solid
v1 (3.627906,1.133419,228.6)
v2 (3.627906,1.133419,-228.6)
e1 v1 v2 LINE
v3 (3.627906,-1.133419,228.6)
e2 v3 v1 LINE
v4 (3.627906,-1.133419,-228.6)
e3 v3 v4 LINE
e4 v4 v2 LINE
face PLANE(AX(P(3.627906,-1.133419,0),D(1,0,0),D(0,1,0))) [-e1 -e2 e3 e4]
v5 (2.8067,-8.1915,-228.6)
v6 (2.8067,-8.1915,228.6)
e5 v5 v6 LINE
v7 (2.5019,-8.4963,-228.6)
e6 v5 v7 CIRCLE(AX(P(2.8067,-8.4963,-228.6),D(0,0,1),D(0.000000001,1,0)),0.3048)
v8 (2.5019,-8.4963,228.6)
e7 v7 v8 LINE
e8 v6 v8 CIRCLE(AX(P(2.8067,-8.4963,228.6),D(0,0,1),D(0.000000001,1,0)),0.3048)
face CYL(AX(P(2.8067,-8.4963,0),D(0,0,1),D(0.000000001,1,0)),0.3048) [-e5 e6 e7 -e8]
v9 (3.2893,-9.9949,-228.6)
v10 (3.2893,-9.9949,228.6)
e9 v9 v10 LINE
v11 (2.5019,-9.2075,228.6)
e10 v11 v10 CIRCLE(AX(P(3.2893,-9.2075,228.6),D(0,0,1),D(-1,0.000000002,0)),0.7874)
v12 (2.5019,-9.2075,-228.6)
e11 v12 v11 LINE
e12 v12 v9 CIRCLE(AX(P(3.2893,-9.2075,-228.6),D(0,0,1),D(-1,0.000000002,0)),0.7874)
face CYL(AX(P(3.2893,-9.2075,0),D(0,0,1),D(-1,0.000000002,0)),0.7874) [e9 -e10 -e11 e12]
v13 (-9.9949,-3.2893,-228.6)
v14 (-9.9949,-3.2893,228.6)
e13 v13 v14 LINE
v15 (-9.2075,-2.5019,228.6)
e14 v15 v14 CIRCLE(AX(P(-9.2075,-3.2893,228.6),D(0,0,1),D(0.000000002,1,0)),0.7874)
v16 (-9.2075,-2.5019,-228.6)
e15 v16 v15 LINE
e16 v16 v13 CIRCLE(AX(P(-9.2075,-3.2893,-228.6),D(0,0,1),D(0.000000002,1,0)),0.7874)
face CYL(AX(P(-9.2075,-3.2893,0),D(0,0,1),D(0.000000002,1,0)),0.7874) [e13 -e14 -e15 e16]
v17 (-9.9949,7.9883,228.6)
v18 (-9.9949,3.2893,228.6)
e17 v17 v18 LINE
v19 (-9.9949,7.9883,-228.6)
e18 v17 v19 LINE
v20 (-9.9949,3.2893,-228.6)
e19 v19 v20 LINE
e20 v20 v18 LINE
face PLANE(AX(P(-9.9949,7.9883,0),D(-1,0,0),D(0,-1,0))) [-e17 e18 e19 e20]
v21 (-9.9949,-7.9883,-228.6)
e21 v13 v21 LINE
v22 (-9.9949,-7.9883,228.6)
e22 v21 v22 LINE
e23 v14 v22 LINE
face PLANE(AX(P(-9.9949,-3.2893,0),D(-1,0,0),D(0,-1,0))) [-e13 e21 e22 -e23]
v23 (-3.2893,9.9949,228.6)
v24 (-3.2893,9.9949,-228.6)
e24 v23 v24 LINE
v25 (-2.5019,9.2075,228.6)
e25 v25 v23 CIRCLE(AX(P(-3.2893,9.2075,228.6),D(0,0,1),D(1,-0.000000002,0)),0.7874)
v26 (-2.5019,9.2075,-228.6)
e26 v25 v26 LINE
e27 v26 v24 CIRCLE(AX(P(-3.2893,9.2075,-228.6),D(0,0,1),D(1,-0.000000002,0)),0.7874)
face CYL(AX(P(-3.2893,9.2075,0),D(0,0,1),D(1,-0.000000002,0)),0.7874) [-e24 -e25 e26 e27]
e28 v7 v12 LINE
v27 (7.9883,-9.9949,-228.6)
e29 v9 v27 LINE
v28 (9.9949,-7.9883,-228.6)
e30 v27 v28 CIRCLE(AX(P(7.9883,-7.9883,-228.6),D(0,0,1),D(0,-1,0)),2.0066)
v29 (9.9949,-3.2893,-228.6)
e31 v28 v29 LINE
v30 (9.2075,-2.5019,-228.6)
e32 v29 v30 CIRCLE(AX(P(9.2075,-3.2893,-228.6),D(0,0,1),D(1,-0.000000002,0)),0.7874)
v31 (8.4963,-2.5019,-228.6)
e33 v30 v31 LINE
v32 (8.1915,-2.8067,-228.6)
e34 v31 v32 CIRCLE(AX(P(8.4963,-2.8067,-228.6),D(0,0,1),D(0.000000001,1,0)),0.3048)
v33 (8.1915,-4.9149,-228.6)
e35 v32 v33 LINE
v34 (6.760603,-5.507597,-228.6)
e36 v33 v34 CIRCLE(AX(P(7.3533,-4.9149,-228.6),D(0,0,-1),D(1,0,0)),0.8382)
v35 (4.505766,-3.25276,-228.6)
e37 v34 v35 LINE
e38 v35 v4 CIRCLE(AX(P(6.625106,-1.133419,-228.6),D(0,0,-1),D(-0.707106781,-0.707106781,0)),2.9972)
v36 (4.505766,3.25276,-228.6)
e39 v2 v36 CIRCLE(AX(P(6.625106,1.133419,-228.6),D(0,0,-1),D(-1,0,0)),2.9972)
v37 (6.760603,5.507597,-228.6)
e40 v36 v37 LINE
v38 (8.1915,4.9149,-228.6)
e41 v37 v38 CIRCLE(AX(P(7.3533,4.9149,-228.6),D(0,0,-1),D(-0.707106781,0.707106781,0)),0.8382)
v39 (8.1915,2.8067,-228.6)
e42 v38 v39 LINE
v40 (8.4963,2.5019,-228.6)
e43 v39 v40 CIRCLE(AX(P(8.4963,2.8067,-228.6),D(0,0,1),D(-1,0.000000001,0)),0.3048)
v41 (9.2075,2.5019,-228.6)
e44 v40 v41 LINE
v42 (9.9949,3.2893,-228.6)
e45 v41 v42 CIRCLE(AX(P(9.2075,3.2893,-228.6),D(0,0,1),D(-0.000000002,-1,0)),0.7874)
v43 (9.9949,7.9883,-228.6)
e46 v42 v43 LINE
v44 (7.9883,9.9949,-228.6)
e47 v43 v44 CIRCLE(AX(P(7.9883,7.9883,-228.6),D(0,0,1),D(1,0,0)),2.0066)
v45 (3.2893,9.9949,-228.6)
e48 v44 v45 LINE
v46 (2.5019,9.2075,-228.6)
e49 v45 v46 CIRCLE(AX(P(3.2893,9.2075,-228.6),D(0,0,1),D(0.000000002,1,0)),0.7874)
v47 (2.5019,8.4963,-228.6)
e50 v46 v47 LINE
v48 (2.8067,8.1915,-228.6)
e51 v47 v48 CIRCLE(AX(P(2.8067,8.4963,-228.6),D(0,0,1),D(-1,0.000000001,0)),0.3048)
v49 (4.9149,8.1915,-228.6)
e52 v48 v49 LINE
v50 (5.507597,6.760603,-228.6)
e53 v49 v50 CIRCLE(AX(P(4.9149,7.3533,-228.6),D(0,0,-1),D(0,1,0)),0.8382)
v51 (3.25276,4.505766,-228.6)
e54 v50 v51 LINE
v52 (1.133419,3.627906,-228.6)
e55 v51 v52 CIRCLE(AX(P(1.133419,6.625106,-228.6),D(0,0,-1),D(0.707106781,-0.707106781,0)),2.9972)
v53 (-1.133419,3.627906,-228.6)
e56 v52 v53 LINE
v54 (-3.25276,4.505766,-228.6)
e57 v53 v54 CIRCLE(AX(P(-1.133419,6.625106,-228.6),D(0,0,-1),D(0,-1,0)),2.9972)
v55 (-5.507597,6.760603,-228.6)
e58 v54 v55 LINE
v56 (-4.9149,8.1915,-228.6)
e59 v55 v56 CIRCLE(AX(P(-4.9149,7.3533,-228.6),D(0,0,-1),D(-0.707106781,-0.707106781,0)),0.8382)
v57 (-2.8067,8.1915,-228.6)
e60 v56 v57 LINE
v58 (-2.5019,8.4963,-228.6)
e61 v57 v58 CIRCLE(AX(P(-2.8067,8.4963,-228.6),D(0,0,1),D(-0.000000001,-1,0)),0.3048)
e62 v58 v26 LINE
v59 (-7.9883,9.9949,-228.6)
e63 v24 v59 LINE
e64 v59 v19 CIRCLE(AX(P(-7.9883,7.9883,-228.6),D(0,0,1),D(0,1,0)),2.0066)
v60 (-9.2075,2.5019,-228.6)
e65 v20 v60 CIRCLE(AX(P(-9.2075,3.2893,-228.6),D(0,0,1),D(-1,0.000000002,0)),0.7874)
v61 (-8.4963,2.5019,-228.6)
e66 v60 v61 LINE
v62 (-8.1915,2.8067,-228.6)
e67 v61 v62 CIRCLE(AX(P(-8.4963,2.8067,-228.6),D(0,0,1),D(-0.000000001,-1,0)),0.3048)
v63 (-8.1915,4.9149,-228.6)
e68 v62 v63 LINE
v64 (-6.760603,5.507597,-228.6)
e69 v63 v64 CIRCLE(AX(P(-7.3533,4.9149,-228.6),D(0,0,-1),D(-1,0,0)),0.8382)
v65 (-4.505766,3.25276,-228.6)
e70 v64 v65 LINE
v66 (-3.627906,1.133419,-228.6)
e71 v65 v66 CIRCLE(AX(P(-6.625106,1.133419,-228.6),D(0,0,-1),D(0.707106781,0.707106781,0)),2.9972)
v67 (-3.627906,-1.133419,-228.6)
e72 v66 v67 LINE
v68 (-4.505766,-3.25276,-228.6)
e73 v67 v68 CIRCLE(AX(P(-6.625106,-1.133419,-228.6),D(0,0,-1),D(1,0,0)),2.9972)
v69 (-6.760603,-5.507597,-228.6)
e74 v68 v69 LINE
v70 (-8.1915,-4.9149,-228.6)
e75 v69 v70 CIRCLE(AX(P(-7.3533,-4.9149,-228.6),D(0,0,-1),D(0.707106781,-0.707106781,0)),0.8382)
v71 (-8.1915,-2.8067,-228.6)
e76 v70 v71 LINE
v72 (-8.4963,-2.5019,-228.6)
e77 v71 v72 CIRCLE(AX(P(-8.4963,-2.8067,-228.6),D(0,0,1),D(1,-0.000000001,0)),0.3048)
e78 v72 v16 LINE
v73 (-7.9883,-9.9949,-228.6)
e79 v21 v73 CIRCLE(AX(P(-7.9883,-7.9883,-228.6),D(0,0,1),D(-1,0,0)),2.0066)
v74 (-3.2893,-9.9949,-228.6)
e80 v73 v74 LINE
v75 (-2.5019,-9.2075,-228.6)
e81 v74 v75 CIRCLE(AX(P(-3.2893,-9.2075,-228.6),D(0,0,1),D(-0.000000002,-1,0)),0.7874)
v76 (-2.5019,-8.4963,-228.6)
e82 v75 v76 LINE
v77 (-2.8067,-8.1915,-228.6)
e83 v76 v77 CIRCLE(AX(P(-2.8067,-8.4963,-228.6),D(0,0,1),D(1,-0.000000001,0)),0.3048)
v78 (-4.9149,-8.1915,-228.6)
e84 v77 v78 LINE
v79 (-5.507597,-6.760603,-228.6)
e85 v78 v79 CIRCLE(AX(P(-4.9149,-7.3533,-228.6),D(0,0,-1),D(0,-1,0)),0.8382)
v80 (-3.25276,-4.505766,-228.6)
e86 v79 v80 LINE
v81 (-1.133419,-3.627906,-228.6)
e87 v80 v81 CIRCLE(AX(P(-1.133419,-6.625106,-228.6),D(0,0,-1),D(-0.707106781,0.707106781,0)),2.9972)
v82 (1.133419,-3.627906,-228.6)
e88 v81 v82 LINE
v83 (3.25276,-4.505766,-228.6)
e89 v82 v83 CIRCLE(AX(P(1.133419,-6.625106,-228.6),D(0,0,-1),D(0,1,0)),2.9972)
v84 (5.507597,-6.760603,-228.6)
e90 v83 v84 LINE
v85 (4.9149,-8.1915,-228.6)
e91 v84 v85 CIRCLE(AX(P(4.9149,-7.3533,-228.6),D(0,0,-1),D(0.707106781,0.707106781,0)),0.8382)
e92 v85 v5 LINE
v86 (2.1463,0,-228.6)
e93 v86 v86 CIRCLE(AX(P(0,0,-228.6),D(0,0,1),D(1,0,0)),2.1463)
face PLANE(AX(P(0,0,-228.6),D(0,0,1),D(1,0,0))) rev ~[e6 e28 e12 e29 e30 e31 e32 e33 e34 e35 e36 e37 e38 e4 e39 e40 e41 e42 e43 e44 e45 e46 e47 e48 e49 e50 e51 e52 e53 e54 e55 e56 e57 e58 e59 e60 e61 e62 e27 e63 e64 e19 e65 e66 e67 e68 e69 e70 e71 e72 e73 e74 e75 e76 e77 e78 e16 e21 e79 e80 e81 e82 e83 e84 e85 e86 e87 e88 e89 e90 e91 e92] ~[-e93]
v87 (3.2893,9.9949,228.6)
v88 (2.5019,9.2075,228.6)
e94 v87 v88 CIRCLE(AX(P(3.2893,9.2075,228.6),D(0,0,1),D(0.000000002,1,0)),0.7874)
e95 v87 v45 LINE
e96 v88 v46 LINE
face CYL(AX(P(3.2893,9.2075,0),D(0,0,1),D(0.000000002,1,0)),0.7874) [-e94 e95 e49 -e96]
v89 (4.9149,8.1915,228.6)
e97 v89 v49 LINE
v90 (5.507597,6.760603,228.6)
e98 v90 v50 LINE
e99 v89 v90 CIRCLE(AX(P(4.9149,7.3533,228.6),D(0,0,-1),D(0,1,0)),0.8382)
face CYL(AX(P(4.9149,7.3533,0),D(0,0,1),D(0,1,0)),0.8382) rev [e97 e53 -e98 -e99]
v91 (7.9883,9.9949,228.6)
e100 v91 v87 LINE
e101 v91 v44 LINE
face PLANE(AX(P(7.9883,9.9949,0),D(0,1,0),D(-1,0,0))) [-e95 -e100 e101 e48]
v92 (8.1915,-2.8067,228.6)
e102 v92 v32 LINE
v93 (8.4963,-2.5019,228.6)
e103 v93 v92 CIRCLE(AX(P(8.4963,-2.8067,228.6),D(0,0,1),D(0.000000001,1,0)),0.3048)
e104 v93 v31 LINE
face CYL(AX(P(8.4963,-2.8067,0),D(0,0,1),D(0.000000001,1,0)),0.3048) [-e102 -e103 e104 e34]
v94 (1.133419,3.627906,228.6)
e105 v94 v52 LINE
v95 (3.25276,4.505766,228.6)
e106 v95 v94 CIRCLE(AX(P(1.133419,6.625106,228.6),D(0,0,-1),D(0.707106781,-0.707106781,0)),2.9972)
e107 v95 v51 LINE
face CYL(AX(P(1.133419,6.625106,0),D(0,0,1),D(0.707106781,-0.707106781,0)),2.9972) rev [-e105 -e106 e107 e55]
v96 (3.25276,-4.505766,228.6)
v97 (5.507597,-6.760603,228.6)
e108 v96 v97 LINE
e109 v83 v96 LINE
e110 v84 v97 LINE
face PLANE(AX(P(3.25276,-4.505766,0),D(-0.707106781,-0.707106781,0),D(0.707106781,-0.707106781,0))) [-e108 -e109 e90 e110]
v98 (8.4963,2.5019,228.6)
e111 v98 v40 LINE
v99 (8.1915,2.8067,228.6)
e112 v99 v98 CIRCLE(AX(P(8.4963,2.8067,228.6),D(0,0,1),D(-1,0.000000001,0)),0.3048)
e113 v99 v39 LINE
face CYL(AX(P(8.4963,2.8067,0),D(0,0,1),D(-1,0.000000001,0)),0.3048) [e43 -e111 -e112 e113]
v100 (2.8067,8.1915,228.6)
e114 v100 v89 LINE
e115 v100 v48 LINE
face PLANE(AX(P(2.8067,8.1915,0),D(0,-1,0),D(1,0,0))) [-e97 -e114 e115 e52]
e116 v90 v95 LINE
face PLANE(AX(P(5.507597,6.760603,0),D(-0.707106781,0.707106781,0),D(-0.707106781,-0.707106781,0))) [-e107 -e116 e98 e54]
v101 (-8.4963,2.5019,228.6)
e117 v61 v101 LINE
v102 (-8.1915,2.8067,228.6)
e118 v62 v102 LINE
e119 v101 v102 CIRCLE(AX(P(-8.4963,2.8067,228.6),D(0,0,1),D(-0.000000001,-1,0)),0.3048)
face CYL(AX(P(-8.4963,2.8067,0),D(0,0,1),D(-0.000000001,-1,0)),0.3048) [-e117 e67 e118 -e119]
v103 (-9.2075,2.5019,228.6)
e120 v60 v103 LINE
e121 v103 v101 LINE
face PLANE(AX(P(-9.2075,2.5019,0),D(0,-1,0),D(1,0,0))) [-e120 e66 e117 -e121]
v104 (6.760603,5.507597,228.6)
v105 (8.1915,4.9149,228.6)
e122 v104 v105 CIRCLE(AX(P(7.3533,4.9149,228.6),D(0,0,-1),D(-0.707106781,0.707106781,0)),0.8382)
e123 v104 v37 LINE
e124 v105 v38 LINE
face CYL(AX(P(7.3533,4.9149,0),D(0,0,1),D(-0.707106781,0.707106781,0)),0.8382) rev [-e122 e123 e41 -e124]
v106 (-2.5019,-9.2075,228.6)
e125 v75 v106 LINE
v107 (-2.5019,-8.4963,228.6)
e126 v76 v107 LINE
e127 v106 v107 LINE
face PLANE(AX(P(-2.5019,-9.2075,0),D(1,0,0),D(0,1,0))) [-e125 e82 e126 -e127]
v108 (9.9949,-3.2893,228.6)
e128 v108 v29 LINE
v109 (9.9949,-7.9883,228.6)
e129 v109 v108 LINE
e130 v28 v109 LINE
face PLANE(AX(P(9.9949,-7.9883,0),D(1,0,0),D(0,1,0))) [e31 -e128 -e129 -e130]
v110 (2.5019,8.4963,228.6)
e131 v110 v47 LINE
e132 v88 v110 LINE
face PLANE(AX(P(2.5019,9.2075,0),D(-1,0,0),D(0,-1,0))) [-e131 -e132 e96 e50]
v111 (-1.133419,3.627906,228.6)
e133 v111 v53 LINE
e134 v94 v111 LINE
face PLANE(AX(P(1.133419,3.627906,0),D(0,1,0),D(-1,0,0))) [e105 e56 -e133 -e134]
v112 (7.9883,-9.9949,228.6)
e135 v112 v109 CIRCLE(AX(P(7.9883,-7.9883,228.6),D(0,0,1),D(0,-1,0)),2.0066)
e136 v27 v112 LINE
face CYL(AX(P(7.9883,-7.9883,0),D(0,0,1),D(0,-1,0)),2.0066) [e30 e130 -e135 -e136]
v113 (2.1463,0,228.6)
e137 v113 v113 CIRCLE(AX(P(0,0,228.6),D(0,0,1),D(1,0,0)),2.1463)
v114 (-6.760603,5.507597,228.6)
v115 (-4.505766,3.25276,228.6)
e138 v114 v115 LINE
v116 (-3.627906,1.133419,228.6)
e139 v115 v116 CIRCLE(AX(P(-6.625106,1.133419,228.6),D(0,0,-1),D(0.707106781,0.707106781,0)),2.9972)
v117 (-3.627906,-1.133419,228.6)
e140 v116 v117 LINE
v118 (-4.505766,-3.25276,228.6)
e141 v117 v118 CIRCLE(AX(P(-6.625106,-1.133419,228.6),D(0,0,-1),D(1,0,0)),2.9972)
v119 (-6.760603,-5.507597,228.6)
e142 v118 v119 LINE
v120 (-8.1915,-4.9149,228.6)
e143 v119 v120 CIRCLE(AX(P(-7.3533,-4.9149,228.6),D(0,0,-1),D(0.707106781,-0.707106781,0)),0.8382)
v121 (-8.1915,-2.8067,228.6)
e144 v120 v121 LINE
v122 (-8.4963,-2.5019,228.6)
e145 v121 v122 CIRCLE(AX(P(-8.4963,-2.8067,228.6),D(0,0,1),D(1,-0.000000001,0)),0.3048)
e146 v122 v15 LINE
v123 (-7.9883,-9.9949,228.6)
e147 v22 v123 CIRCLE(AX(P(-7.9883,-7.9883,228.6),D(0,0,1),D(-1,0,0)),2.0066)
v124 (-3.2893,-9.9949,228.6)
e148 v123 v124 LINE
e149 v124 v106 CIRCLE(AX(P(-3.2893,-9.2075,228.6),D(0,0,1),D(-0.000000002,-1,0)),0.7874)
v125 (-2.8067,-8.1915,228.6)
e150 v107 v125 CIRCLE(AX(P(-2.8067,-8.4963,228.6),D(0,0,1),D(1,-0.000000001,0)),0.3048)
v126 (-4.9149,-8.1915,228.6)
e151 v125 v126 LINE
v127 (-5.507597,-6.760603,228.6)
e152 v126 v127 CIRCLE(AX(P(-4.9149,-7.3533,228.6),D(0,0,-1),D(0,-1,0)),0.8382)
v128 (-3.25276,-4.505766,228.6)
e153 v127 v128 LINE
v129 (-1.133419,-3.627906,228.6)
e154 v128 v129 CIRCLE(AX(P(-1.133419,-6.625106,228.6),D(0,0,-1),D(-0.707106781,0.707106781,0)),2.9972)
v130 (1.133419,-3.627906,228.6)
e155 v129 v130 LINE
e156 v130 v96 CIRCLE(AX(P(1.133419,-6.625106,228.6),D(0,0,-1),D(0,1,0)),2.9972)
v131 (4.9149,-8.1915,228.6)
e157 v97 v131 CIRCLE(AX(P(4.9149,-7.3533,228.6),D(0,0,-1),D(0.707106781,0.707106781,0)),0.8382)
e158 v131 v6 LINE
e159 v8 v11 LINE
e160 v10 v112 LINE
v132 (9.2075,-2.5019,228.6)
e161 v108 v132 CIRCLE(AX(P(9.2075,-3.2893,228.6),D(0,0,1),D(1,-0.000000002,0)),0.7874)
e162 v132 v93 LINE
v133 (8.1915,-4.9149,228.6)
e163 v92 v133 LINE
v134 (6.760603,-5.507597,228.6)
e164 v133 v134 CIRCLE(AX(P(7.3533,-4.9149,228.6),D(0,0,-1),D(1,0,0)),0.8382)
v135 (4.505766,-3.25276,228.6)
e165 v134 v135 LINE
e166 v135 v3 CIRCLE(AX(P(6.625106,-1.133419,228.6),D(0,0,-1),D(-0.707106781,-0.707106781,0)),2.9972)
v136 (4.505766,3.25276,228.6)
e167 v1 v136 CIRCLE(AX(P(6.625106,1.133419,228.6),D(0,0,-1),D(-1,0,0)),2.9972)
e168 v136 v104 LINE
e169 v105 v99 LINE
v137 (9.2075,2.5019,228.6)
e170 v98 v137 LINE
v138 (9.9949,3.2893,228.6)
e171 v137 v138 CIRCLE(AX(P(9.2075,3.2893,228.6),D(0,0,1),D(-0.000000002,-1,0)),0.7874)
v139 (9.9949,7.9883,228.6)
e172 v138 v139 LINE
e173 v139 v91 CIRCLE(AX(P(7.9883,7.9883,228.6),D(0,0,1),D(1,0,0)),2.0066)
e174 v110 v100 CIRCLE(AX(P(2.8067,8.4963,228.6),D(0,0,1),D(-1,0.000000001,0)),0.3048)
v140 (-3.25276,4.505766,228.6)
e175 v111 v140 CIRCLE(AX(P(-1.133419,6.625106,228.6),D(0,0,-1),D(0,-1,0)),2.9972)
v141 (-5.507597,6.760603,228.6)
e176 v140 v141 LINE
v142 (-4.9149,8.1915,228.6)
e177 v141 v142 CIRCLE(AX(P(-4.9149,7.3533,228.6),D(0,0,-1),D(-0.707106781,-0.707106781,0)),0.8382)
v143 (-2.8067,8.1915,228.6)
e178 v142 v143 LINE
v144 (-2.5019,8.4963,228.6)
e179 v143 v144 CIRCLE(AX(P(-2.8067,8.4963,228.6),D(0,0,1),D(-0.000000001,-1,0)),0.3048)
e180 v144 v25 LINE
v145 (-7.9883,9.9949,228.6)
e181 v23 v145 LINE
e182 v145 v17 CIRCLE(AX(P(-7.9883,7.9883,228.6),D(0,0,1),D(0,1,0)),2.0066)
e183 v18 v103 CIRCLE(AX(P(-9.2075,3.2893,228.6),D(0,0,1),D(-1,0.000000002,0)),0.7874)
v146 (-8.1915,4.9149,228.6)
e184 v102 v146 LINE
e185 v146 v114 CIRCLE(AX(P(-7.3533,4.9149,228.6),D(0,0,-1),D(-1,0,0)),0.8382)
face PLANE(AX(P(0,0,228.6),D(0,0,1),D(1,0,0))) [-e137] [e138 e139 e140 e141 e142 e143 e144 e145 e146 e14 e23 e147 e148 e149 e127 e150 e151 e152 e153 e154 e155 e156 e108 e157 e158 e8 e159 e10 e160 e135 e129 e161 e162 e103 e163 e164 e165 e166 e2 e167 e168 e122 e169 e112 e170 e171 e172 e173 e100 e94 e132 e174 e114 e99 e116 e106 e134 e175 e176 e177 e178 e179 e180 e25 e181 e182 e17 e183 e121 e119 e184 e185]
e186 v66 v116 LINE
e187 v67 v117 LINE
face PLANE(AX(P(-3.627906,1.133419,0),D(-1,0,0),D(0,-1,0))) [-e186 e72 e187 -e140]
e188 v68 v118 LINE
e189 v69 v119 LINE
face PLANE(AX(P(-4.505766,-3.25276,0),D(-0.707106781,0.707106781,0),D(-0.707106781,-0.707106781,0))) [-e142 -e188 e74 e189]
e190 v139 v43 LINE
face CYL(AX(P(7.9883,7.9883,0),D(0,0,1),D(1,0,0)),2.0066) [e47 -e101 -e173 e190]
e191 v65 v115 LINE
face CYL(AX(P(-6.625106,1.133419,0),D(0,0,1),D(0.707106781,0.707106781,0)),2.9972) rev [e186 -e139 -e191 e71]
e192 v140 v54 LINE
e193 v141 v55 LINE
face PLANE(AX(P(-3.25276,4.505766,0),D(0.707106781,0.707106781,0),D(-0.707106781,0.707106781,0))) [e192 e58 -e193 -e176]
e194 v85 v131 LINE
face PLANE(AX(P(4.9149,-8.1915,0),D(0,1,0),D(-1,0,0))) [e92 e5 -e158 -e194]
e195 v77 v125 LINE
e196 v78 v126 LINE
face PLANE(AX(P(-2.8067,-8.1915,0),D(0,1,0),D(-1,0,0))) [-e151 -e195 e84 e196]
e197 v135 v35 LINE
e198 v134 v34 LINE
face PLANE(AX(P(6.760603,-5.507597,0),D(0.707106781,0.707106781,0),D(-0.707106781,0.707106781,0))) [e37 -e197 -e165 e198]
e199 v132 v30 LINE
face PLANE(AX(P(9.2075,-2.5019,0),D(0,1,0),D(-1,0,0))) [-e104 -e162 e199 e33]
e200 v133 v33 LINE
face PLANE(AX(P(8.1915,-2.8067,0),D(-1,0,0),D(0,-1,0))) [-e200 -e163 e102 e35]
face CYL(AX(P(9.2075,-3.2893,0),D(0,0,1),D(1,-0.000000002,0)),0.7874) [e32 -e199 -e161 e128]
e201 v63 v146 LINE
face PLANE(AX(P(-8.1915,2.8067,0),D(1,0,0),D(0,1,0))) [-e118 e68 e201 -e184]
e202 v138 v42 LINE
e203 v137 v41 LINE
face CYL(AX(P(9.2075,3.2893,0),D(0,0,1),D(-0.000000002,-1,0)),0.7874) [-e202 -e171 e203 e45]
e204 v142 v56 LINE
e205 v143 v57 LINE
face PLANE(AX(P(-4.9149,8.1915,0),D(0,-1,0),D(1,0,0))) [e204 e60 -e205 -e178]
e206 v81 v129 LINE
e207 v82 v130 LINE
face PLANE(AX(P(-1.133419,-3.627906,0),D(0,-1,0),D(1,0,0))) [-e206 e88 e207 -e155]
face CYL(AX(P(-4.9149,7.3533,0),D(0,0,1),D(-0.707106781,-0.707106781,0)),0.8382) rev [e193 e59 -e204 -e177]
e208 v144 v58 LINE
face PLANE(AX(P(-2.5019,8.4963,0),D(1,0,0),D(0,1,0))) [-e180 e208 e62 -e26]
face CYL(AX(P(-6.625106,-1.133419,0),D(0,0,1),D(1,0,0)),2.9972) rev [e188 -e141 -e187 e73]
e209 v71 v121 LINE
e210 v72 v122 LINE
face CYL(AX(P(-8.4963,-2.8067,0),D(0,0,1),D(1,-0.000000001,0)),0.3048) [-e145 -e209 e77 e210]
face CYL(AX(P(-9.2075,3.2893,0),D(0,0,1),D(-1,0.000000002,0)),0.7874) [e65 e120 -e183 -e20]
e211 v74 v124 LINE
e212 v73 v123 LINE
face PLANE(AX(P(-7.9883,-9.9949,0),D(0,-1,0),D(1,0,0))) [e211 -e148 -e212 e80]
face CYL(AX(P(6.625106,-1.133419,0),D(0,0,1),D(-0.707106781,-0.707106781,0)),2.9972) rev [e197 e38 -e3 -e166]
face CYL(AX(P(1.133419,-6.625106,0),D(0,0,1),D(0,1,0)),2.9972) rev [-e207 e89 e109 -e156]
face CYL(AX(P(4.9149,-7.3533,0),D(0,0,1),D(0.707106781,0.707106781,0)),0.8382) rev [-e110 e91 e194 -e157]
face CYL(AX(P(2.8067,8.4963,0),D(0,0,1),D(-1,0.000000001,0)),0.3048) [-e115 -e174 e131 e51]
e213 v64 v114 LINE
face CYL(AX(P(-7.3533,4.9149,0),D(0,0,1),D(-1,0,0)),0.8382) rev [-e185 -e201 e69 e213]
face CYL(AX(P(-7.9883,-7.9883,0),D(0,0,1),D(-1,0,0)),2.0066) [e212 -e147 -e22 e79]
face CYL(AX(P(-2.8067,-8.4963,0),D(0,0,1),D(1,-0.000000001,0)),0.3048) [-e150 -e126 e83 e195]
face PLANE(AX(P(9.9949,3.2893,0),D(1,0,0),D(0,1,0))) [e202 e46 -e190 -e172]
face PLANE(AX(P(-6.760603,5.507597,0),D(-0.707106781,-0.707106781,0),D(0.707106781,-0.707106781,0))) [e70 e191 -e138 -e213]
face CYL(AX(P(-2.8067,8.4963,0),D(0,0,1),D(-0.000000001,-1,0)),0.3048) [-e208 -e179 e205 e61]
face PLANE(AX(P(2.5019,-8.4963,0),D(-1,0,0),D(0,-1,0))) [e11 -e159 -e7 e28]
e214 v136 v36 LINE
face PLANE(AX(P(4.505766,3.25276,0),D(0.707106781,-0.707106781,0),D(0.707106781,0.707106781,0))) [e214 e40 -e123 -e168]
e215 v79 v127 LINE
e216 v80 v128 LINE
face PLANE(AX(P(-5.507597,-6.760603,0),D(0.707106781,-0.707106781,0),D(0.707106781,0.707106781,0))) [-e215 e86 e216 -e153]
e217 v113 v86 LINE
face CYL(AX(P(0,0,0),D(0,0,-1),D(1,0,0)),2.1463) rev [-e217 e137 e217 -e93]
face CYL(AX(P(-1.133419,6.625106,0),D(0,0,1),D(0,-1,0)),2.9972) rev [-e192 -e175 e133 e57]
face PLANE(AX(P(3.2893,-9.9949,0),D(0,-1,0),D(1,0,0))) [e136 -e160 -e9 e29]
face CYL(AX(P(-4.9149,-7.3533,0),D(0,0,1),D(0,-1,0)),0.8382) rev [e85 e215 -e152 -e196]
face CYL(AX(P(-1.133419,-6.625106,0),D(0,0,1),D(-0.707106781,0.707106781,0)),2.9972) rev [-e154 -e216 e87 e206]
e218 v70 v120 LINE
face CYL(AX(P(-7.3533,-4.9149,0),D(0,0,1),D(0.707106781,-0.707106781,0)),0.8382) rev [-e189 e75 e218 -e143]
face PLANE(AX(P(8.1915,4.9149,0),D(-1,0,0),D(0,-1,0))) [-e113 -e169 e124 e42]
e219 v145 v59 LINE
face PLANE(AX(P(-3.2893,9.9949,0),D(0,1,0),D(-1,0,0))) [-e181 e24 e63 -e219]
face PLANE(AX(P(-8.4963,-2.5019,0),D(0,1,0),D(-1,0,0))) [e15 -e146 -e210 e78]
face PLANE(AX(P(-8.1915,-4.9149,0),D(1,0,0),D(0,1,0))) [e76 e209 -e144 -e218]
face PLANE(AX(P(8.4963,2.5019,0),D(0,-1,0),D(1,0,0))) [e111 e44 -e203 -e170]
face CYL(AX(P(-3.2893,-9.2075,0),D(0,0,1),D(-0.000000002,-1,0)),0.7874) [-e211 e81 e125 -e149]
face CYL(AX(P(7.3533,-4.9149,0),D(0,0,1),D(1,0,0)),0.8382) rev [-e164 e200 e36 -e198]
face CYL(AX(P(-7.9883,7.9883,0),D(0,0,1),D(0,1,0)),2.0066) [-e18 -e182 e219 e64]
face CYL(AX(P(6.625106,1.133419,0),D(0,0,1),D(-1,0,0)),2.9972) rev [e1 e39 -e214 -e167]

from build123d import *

# Parameters (mm, degrees)
SKETCH1_R           = 2.1463
BOSS_EXTRUDE1_DEPTH = 228.6


with BuildPart() as part:
    # Sketch1 → Boss-Extrude1 (new, symmetric)
    with BuildSketch(Plane.XY):
        with BuildLine():
            Line((-9.9949, 7.9883), (-9.9949, 3.2893))
            ThreePointArc((-9.9949, 3.2893), (-9.76427588, 2.73252412), (-9.2075, 2.5019))
            Line((-9.2075, 2.5019), (-8.4963, 2.5019))
            ThreePointArc((-8.4963, 2.5019), (-8.280773853, 2.591173853), (-8.1915, 2.8067))
            Line((-8.1915, 2.8067), (-8.1915, 4.9149))
            ThreePointArc((-8.1915, 4.9149), (-7.674065253, 5.689295824), (-6.760603096, 5.507596904))
            Line((-6.760603096, 5.507596904), (-4.505765747, 3.252759555))
            ThreePointArc((-4.505765747, 3.252759555), (-3.856054457, 2.280397894), (-3.627906192, 1.133419111))
            Line((-3.627906192, 1.133419111), (-3.627906192, -1.133419111))
            ThreePointArc((-3.627906192, -1.133419111), (-3.856054457, -2.280397894), (-4.505765747, -3.252759555))
            Line((-4.505765747, -3.252759555), (-6.760603096, -5.507596904))
            ThreePointArc((-6.760603096, -5.507596904), (-7.674065253, -5.689295824), (-8.1915, -4.9149))
            Line((-8.1915, -4.9149), (-8.1915, -2.8067))
            ThreePointArc((-8.1915, -2.8067), (-8.280773853, -2.591173853), (-8.4963, -2.5019))
            Line((-8.4963, -2.5019), (-9.2075, -2.5019))
            ThreePointArc((-9.2075, -2.5019), (-9.76427588, -2.73252412), (-9.9949, -3.2893))
            Line((-9.9949, -3.2893), (-9.9949, -7.9883))
            ThreePointArc((-9.9949, -7.9883), (-9.407180467, -9.407180467), (-7.9883, -9.9949))
            Line((-7.9883, -9.9949), (-3.2893, -9.9949))
            ThreePointArc((-3.2893, -9.9949), (-2.73252412, -9.76427588), (-2.5019, -9.2075))
            Line((-2.5019, -9.2075), (-2.5019, -8.4963))
            ThreePointArc((-2.5019, -8.4963), (-2.591173853, -8.280773853), (-2.8067, -8.1915))
            Line((-2.8067, -8.1915), (-4.9149, -8.1915))
            ThreePointArc((-4.9149, -8.1915), (-5.689295824, -7.674065253), (-5.507596904, -6.760603096))
            Line((-5.507596904, -6.760603096), (-3.252759555, -4.505765747))
            ThreePointArc((-3.252759555, -4.505765747), (-2.280397894, -3.856054457), (-1.133419111, -3.627906192))
            Line((-1.133419111, -3.627906192), (1.133419111, -3.627906192))
            ThreePointArc((1.133419111, -3.627906192), (2.280397894, -3.856054457), (3.252759555, -4.505765747))
            Line((3.252759555, -4.505765747), (5.507596904, -6.760603096))
            ThreePointArc((5.507596904, -6.760603096), (5.689295824, -7.674065253), (4.9149, -8.1915))
            Line((4.9149, -8.1915), (2.8067, -8.1915))
            ThreePointArc((2.8067, -8.1915), (2.591173853, -8.280773853), (2.5019, -8.4963))
            Line((2.5019, -8.4963), (2.5019, -9.2075))
            ThreePointArc((2.5019, -9.2075), (2.73252412, -9.76427588), (3.2893, -9.9949))
            Line((3.2893, -9.9949), (7.9883, -9.9949))
            ThreePointArc((7.9883, -9.9949), (9.407180467, -9.407180467), (9.9949, -7.9883))
            Line((9.9949, -7.9883), (9.9949, -3.2893))
            ThreePointArc((9.9949, -3.2893), (9.76427588, -2.73252412), (9.2075, -2.5019))
            Line((9.2075, -2.5019), (8.4963, -2.5019))
            ThreePointArc((8.4963, -2.5019), (8.280773853, -2.591173853), (8.1915, -2.8067))
            Line((8.1915, -2.8067), (8.1915, -4.9149))
            ThreePointArc((8.1915, -4.9149), (7.674065253, -5.689295824), (6.760603096, -5.507596904))
            Line((6.760603096, -5.507596904), (4.505765747, -3.252759555))
            ThreePointArc((4.505765747, -3.252759555), (3.856054457, -2.280397894), (3.627906192, -1.133419111))
            Line((3.627906192, -1.133419111), (3.627906192, 1.133419111))
            ThreePointArc((3.627906192, 1.133419111), (3.856054457, 2.280397894), (4.505765747, 3.252759555))
            Line((4.505765747, 3.252759555), (6.760603096, 5.507596904))
            ThreePointArc((6.760603096, 5.507596904), (7.674065253, 5.689295824), (8.1915, 4.9149))
            Line((8.1915, 4.9149), (8.1915, 2.8067))
            ThreePointArc((8.1915, 2.8067), (8.280773853, 2.591173853), (8.4963, 2.5019))
            Line((8.4963, 2.5019), (9.2075, 2.5019))
            ThreePointArc((9.2075, 2.5019), (9.76427588, 2.73252412), (9.9949, 3.2893))
            Line((9.9949, 3.2893), (9.9949, 7.9883))
            ThreePointArc((9.9949, 7.9883), (9.407180467, 9.407180467), (7.9883, 9.9949))
            Line((7.9883, 9.9949), (3.2893, 9.9949))
            ThreePointArc((3.2893, 9.9949), (2.73252412, 9.76427588), (2.5019, 9.2075))
            Line((2.5019, 9.2075), (2.5019, 8.4963))
            ThreePointArc((2.5019, 8.4963), (2.591173853, 8.280773853), (2.8067, 8.1915))
            Line((2.8067, 8.1915), (4.9149, 8.1915))
            ThreePointArc((4.9149, 8.1915), (5.689295824, 7.674065253), (5.507596904, 6.760603096))
            Line((5.507596904, 6.760603096), (3.252759555, 4.505765747))
            ThreePointArc((3.252759555, 4.505765747), (2.280397894, 3.856054457), (1.133419111, 3.627906192))
            Line((1.133419111, 3.627906192), (-1.133419111, 3.627906192))
            ThreePointArc((-1.133419111, 3.627906192), (-2.280397894, 3.856054457), (-3.252759555, 4.505765747))
            Line((-3.252759555, 4.505765747), (-5.507596904, 6.760603096))
            ThreePointArc((-5.507596904, 6.760603096), (-5.689295824, 7.674065253), (-4.9149, 8.1915))
            Line((-4.9149, 8.1915), (-2.8067, 8.1915))
            ThreePointArc((-2.8067, 8.1915), (-2.591173853, 8.280773853), (-2.5019, 8.4963))
            Line((-2.5019, 8.4963), (-2.5019, 9.2075))
            ThreePointArc((-2.5019, 9.2075), (-2.73252412, 9.76427588), (-3.2893, 9.9949))
            Line((-3.2893, 9.9949), (-7.9883, 9.9949))
            ThreePointArc((-7.9883, 9.9949), (-9.407180467, 9.407180467), (-9.9949, 7.9883))
        make_face()
        Circle(SKETCH1_R, mode=Mode.SUBTRACT)
    extrude(amount=BOSS_EXTRUDE1_DEPTH, both=True)


solid = part.part
